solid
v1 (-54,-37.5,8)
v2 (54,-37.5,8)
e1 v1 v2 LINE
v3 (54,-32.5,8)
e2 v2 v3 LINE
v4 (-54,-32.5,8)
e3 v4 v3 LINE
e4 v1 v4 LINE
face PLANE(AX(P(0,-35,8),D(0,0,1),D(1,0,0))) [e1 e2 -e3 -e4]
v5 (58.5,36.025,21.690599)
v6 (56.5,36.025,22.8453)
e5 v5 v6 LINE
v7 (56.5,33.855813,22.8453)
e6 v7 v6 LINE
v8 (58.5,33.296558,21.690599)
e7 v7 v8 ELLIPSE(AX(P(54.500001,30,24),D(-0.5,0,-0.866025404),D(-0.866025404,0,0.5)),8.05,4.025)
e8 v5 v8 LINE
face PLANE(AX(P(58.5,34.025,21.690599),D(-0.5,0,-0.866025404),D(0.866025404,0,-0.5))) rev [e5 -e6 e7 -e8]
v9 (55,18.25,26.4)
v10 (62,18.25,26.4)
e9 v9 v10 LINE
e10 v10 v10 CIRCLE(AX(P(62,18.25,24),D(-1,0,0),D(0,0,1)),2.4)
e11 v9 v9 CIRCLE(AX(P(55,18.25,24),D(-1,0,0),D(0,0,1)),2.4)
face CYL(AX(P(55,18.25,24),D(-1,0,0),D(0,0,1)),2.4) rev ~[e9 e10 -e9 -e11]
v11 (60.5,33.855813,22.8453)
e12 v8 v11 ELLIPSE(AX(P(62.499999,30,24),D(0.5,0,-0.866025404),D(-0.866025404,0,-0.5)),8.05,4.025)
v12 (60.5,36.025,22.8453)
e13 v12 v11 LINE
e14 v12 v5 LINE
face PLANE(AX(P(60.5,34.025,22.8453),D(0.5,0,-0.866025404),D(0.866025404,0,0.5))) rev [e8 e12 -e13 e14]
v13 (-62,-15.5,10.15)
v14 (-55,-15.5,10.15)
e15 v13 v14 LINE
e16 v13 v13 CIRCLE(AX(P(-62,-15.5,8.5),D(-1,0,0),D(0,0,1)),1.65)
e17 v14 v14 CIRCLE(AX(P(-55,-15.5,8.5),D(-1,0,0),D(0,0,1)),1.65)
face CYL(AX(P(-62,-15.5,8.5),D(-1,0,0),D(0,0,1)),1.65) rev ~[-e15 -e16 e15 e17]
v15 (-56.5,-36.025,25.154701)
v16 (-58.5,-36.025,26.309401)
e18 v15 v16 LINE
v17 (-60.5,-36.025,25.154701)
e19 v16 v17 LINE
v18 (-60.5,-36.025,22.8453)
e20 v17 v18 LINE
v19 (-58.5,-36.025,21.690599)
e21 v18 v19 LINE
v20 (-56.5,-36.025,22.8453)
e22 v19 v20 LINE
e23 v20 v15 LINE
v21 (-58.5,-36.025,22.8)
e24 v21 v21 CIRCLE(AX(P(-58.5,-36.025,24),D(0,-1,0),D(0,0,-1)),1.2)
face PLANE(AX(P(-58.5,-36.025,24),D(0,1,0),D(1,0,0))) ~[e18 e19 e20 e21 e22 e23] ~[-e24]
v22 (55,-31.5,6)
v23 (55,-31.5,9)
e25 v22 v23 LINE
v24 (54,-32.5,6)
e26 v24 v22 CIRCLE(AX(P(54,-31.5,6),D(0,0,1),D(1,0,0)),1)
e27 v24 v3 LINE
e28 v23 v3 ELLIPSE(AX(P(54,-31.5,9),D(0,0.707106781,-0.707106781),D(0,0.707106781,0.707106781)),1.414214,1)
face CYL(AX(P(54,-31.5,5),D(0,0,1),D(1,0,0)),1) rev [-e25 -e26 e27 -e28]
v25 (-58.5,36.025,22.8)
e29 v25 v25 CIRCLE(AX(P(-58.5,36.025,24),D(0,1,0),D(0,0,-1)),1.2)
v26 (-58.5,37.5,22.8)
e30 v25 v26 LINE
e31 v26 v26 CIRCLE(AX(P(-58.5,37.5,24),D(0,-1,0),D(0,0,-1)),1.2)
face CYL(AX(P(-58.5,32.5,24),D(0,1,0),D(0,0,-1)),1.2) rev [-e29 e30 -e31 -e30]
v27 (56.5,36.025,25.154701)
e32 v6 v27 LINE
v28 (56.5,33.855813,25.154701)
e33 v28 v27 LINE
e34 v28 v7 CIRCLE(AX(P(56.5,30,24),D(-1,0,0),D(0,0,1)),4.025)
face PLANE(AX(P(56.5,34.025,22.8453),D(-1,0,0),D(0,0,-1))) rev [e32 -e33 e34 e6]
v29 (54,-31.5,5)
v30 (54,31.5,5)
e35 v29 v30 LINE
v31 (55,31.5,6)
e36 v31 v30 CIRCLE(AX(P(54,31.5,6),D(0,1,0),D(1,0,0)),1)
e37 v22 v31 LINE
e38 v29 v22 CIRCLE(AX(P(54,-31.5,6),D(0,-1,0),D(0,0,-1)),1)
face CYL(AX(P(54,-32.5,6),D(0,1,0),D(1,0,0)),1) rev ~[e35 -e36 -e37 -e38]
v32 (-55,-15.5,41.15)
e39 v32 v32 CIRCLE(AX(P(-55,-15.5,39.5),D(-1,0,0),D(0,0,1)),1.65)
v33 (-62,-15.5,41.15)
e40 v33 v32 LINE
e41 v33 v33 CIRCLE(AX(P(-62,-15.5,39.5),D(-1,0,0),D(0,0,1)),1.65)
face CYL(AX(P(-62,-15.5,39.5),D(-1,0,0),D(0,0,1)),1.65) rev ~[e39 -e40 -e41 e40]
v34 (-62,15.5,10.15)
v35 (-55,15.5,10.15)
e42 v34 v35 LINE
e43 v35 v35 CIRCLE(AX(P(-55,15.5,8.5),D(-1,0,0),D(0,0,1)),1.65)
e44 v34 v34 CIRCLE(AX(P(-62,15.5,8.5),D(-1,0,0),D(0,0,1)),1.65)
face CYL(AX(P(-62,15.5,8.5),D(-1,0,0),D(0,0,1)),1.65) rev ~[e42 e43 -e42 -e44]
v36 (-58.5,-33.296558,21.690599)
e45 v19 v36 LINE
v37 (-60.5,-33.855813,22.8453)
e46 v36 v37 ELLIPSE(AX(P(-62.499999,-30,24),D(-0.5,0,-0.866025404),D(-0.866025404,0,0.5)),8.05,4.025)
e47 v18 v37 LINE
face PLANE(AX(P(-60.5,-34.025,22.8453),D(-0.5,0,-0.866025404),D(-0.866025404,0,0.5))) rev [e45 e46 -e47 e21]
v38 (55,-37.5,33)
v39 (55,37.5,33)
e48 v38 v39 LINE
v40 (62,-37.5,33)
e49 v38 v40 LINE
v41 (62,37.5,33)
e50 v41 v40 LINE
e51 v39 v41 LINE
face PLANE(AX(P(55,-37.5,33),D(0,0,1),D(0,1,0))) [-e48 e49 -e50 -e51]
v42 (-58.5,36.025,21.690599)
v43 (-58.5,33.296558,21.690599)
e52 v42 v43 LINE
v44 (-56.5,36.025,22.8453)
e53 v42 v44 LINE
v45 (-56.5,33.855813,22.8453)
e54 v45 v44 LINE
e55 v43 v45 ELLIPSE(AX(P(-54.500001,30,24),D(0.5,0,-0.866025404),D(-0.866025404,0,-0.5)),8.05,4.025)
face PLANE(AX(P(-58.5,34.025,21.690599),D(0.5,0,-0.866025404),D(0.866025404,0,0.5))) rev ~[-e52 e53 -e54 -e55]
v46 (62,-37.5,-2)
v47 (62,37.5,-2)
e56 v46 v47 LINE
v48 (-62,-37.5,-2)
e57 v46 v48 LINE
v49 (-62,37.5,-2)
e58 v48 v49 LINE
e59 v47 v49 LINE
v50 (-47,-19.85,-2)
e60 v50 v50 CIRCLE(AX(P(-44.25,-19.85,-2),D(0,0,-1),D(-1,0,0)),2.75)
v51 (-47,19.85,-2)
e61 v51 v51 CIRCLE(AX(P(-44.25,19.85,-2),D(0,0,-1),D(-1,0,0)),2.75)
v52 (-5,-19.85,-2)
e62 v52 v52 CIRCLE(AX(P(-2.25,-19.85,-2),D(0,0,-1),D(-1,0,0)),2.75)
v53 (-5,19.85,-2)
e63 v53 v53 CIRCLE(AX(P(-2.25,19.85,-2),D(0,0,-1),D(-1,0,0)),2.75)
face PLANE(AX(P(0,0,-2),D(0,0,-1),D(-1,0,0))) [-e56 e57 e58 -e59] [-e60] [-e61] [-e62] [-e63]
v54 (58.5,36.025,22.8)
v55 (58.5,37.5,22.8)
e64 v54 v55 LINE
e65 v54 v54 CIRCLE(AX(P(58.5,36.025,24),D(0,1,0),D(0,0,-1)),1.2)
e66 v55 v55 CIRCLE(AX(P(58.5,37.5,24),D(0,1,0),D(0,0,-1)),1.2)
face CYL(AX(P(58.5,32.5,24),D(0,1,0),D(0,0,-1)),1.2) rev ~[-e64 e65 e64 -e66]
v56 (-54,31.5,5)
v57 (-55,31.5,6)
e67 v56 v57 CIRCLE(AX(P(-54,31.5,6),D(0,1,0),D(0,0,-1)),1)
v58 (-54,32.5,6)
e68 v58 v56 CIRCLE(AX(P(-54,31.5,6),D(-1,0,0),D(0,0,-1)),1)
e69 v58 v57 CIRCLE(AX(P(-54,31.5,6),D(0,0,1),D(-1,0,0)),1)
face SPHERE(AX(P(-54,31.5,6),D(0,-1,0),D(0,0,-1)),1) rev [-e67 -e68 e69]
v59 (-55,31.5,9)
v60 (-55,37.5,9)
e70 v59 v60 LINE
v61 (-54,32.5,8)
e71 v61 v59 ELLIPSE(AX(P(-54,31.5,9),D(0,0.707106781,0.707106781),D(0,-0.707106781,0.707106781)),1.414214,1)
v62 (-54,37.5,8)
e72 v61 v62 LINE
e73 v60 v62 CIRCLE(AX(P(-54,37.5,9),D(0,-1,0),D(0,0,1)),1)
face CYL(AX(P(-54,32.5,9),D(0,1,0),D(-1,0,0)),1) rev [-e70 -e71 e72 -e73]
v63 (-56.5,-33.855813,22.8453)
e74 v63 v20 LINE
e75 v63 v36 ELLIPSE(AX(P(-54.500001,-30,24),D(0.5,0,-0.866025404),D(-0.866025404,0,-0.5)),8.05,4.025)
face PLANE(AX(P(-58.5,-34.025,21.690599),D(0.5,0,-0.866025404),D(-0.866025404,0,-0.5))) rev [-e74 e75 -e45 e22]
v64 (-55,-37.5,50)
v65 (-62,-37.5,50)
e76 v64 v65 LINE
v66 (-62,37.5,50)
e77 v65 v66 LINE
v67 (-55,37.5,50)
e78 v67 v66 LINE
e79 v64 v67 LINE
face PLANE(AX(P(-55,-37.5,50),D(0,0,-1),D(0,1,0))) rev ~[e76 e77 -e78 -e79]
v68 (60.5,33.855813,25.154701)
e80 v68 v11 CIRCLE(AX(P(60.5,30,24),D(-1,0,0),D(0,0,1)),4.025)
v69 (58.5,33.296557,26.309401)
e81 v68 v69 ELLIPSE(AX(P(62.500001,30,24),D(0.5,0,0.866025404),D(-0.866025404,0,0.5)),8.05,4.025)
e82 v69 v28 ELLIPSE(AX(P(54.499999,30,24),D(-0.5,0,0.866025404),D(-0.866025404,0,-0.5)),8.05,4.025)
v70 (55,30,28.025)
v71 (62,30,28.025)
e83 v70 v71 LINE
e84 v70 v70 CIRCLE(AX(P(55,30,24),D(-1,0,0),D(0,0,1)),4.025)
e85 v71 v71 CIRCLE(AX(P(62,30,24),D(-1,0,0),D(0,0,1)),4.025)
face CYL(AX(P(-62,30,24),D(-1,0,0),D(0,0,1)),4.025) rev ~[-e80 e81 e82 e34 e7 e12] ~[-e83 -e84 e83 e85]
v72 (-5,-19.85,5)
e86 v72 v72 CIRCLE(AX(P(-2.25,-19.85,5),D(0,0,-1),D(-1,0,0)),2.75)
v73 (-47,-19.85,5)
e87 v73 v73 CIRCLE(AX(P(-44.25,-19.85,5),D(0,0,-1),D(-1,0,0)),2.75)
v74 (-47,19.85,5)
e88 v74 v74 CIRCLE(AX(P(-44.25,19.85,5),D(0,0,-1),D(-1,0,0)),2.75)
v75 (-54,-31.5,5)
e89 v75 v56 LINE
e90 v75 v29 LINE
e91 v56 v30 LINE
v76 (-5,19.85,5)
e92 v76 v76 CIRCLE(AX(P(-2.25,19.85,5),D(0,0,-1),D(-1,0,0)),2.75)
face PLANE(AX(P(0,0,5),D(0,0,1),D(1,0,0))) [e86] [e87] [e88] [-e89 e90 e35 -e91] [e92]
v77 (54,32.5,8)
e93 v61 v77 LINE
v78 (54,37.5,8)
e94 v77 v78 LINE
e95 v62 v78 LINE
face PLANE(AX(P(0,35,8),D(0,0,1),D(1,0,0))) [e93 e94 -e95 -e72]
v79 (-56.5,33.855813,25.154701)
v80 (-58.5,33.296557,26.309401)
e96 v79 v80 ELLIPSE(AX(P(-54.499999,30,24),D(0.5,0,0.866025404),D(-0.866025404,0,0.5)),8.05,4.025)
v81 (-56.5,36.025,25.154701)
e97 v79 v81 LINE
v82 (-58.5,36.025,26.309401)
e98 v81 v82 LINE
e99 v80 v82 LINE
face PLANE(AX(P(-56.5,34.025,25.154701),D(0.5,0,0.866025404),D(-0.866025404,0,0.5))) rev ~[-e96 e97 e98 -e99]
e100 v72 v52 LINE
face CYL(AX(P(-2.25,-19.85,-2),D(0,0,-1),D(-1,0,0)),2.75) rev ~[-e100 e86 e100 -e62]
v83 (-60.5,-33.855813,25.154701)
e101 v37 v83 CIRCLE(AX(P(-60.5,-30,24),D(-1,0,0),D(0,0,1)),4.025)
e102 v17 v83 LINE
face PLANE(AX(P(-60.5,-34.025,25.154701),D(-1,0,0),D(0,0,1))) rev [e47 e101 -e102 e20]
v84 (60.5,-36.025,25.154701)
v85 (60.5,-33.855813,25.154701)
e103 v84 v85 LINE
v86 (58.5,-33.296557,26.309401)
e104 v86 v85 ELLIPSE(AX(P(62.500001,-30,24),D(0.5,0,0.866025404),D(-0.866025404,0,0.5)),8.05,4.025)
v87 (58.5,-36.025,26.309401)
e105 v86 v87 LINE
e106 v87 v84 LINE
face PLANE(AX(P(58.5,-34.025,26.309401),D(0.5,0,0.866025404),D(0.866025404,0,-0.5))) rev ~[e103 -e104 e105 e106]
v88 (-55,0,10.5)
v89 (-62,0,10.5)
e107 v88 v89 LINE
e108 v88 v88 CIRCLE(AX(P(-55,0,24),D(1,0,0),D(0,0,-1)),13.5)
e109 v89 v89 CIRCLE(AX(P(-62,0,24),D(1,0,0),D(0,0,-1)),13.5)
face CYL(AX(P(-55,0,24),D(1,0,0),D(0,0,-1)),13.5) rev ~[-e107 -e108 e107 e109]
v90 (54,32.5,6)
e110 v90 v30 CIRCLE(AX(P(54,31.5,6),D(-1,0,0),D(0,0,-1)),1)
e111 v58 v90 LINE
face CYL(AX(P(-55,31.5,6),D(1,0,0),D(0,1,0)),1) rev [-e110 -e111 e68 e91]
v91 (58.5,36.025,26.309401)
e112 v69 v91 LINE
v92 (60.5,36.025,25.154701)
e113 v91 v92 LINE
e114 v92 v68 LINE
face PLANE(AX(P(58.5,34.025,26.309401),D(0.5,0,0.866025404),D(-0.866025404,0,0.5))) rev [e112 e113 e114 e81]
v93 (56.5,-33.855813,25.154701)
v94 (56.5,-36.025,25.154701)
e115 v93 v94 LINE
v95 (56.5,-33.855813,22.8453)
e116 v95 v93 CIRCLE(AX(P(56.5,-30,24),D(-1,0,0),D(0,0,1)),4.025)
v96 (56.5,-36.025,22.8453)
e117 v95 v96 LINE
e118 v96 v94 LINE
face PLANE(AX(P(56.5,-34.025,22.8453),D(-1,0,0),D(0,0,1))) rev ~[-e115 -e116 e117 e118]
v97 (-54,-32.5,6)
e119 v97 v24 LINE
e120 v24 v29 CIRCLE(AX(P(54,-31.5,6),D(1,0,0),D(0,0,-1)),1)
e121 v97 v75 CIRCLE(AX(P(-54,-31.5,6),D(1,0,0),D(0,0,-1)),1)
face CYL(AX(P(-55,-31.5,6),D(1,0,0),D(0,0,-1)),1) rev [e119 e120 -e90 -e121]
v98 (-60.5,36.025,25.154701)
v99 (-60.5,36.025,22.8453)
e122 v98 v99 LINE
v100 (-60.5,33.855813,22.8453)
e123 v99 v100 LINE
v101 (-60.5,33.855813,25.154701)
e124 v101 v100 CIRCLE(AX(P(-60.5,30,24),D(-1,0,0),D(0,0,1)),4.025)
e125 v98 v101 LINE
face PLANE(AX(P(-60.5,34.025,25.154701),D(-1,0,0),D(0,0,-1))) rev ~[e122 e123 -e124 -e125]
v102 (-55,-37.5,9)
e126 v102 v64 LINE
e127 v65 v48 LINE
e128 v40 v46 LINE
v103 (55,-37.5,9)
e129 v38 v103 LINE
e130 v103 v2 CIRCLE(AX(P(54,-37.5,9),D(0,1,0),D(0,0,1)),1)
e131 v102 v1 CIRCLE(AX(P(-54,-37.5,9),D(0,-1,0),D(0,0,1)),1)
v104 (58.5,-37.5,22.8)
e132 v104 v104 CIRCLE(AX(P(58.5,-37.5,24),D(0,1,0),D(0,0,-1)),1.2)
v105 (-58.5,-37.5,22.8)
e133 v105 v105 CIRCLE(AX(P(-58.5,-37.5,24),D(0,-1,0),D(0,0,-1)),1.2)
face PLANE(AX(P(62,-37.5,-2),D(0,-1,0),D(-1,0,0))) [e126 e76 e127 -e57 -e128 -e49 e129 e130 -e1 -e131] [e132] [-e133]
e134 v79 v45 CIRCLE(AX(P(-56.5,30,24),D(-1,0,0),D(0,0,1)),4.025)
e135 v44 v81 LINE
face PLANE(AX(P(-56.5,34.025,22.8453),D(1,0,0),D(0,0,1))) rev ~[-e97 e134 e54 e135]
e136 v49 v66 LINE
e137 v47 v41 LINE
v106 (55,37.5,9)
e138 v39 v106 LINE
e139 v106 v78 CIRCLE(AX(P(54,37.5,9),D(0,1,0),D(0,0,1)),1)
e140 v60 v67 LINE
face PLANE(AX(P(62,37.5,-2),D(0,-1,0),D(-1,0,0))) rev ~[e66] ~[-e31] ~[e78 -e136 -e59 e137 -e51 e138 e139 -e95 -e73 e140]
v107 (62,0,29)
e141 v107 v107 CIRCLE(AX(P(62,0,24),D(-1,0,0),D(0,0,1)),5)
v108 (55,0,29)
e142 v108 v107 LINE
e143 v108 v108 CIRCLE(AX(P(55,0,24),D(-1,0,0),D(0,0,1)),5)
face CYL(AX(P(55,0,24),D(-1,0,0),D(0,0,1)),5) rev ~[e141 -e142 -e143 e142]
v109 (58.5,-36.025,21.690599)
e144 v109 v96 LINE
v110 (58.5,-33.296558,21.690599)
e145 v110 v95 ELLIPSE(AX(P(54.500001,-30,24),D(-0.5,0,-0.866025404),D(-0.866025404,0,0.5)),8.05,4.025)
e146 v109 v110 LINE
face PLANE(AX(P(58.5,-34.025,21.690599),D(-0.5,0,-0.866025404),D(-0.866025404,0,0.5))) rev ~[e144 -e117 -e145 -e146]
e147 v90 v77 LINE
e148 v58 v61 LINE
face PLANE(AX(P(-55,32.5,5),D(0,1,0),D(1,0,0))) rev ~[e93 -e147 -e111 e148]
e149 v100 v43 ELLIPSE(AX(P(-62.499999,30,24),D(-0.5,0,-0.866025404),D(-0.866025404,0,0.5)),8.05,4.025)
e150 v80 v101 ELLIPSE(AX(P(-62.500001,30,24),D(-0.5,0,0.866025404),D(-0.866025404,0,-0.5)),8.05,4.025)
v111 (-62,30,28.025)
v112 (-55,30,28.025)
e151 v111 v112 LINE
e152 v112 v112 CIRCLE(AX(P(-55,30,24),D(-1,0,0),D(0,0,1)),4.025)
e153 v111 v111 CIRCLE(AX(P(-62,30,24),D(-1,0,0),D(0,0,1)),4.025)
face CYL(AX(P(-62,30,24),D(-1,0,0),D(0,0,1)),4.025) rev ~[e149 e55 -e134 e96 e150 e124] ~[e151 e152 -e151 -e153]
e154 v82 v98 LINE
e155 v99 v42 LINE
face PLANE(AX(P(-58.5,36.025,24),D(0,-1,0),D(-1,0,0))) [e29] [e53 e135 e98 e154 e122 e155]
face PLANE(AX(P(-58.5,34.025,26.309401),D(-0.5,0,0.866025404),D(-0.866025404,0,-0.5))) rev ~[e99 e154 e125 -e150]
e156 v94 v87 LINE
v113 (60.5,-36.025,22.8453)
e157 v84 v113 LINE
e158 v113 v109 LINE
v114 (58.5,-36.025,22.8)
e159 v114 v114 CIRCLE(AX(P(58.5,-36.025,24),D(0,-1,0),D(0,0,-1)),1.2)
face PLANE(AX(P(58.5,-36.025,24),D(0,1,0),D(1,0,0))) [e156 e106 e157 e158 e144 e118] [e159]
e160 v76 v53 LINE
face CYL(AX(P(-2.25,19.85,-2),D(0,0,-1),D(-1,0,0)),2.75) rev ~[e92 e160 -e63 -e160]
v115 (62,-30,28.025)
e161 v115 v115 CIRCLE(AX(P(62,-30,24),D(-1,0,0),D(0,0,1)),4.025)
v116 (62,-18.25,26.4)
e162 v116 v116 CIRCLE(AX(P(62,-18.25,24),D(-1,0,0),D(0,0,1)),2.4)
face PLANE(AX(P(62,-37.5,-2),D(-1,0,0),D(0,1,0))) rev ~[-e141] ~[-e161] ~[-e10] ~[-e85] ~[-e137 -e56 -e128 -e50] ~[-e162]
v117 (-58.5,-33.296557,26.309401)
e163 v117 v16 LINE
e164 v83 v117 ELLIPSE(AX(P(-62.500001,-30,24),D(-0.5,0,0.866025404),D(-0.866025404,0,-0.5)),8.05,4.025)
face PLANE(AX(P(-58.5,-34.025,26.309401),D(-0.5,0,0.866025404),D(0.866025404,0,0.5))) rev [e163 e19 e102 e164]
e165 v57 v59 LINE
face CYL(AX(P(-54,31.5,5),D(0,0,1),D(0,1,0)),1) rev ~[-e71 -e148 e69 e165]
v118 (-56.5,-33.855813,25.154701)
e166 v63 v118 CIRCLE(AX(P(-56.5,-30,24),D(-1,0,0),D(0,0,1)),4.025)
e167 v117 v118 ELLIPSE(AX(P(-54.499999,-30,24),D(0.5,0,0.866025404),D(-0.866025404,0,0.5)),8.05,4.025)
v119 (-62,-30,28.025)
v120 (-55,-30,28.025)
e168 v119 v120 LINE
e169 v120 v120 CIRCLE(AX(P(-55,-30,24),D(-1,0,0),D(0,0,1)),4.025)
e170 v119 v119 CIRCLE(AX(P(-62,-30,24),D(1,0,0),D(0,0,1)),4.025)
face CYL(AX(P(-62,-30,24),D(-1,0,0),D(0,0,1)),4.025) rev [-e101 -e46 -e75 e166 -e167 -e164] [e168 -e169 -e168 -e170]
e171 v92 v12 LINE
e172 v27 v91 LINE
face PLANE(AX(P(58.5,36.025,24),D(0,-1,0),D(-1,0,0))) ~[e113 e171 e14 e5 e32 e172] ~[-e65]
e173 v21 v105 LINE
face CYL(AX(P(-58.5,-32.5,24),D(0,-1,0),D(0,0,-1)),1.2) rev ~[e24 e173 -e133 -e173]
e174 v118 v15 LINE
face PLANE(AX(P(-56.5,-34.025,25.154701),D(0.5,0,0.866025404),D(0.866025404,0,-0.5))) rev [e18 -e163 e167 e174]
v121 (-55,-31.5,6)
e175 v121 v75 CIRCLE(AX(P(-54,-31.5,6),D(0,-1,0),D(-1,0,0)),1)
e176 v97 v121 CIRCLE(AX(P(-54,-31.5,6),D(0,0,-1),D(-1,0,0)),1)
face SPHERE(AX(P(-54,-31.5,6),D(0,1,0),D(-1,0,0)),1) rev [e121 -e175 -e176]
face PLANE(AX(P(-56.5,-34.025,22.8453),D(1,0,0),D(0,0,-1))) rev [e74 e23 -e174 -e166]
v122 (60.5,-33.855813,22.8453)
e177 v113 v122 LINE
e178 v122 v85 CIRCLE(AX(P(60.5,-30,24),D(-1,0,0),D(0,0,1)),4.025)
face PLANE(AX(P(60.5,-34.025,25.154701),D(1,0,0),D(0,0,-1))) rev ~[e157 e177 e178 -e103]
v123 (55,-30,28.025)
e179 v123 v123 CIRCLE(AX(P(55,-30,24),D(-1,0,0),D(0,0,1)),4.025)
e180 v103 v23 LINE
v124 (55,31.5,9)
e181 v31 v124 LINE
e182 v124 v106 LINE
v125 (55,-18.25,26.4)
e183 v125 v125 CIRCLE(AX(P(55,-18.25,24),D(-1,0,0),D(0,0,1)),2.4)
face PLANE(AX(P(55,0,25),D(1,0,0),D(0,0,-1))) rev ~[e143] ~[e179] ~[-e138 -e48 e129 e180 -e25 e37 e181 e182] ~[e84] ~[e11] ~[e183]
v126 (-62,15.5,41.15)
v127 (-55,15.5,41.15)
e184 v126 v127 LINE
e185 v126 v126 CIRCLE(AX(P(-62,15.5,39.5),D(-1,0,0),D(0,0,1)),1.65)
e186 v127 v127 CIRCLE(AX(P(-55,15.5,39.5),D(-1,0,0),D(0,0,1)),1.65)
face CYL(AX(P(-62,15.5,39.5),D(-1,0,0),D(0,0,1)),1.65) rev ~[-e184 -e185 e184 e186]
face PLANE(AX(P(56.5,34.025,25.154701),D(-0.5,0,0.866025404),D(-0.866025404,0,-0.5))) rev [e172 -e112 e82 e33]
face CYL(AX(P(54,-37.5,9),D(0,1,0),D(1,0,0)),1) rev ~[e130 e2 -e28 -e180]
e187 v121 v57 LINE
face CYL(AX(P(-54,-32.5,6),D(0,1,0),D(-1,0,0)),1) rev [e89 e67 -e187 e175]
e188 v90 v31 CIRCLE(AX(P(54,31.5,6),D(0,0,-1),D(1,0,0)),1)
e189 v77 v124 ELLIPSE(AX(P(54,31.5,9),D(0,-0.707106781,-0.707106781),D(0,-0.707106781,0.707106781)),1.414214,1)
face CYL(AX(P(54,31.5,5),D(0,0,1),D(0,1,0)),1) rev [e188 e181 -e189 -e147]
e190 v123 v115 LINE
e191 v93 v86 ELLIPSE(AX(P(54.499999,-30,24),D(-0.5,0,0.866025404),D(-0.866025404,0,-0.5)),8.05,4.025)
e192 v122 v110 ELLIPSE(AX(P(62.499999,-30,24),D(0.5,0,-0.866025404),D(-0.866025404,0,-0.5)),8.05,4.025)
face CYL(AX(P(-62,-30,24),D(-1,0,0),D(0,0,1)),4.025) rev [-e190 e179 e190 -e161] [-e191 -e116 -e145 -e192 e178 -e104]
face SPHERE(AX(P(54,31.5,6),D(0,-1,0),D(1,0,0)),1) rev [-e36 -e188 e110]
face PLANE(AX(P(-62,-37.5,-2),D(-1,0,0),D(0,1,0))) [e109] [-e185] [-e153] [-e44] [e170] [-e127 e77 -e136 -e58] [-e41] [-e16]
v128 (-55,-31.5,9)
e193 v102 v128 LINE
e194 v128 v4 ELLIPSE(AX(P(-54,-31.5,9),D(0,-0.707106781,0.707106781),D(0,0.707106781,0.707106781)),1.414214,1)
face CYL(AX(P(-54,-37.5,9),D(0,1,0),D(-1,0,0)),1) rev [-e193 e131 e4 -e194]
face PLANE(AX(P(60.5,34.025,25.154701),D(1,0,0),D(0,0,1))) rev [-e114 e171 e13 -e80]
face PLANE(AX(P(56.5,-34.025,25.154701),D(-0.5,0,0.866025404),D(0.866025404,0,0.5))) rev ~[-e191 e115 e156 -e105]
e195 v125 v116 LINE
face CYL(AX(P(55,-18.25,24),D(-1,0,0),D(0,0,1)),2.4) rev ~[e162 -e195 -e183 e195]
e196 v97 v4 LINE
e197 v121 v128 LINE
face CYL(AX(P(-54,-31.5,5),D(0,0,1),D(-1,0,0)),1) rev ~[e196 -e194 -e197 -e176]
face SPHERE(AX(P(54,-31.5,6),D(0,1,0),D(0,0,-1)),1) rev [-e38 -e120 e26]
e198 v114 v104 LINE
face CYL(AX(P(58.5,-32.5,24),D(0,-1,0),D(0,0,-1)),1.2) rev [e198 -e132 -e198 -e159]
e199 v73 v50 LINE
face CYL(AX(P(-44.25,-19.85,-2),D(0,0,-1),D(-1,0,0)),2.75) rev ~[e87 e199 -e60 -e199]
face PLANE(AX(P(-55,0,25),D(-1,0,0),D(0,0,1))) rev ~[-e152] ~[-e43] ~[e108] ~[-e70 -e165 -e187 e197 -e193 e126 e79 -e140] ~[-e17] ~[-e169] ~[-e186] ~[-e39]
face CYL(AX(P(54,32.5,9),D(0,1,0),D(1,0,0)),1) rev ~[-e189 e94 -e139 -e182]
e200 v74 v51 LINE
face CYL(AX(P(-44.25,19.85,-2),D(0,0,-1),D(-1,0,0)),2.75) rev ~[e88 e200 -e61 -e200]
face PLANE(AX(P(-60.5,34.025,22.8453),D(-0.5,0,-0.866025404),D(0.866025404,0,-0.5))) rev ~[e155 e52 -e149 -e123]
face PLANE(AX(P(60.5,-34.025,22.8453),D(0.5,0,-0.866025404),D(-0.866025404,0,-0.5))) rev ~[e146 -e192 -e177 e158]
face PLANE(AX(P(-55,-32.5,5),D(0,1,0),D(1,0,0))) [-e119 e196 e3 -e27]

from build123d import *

# Parameters (mm, degrees)
SKETCH1_W            = 110
SKETCH1_H            = 75
BOSS_EXTRUDE1_DEPTH  = 5
SKETCH2_W            = 50.000000309
SKETCH2_H            = 75
BOSS_EXTRUDE2_DEPTH  = 7
SKETCH3_W            = 50.000000309
SKETCH3_H            = 75
BOSS_EXTRUDE3_DEPTH  = 7
SKETCH4_R            = 13.5
CUT_EXTRUDE1_DEPTH   = 133.647088287
SKETCH5_R            = 1.65
CUT_EXTRUDE2_DEPTH   = 7
SKETCH8_R            = 4.025
CUT_EXTRUDE5_DEPTH   = 139.860541663
SKETCH9_W            = 17
SKETCH9_H            = 75
CUT_EXTRUDE6_DEPTH   = 133.647088287
SKETCH13_R           = 2.75
CUT_EXTRUDE7_DEPTH   = 10
SKETCH14_R           = 5
CUT_EXTRUDE8_DEPTH   = 10
BOSS_EXTRUDE4_START  = 2
SKETCH15_W           = 124
SKETCH15_H           = 75
SKETCH15_R           = 2.75
BOSS_EXTRUDE4_DEPTH  = 2
CUT_EXTRUDE11_DEPTH  = 2
MIRROR7_COPY_1_DEPTH = 2
SKETCH20_R           = 2.4
CUT_EXTRUDE12_DEPTH  = 133.647088287
SKETCH21_W           = 110
SKETCH21_H           = 5
BOSS_EXTRUDE5_DEPTH  = 3
FILLET2_R            = 1


with BuildPart() as part:
    # Sketch1 → Boss-Extrude1 (new body)
    with BuildSketch(Plane.XY):
        Rectangle(SKETCH1_W, SKETCH1_H)
    extrude(amount=BOSS_EXTRUDE1_DEPTH)

    # Sketch2 → Boss-Extrude2 (add)
    with BuildSketch(Plane.ZY.offset(55)):
        with Locations((25.000000155, 0)):
            Rectangle(SKETCH2_W, SKETCH2_H)
    extrude(amount=BOSS_EXTRUDE2_DEPTH)

    # Sketch3 → Boss-Extrude3 (add)
    with BuildSketch(Plane(origin=(55, 0, 0), x_dir=(0, 0, -1), z_dir=(1, 0, 0))):
        with Locations((-25.000000155, 0)):
            Rectangle(SKETCH3_W, SKETCH3_H)
    extrude(amount=BOSS_EXTRUDE3_DEPTH)

    # Sketch4 → Cut-Extrude1 (cut, through all)
    with BuildSketch(Plane(origin=(-55, 0, 0), x_dir=(0, 0, -1), z_dir=(1, 0, 0))):
        with Locations((-24, 0)):
            Circle(SKETCH4_R)
    extrude(amount=-CUT_EXTRUDE1_DEPTH, mode=Mode.SUBTRACT)

    # Sketch5 → Cut-Extrude2 (cut)
    with BuildSketch(Plane.ZY.offset(62)):
        with Locations((39.5, 15.5)):
            Circle(SKETCH5_R)
        with Locations((39.5, -15.5)):
            Circle(SKETCH5_R)
        with Locations((8.5, -15.5)):
            Circle(SKETCH5_R)
        with Locations((8.5, 15.5)):
            Circle(SKETCH5_R)
    extrude(amount=-CUT_EXTRUDE2_DEPTH, mode=Mode.SUBTRACT)

    # Sketch8 → Cut-Extrude5 (cut, through all)
    with BuildSketch(Plane.ZY.offset(62)):
        with Locations((24, 30)):
            Circle(SKETCH8_R)
    cut_extrude5 = extrude(amount=-CUT_EXTRUDE5_DEPTH, mode=Mode.SUBTRACT)

    # Mirror1: Cut-Extrude5 across plane
    add(cut_extrude5.mirror(Plane.ZX), mode=Mode.SUBTRACT)

    # Sketch9 → Cut-Extrude6 (cut, through all)
    with BuildSketch(Plane.ZY.offset(-55)):
        with Locations((41.500000309, 0)):
            Rectangle(SKETCH9_W, SKETCH9_H)
    extrude(amount=-CUT_EXTRUDE6_DEPTH, mode=Mode.SUBTRACT)

    # Sketch13 → Cut-Extrude7 (cut)
    with BuildSketch(Plane(origin=(0, 0, 0), x_dir=(-1, 0, 0), z_dir=(0, 0, -1))):
        with Locations((44.25, 19.85)):
            Circle(SKETCH13_R)
        with Locations((2.25, 19.85)):
            Circle(SKETCH13_R)
        with Locations((2.25, -19.85)):
            Circle(SKETCH13_R)
        with Locations((44.25, -19.85)):
            Circle(SKETCH13_R)
    extrude(amount=-CUT_EXTRUDE7_DEPTH, mode=Mode.SUBTRACT)

    # Sketch14 → Cut-Extrude8 (cut)
    with BuildSketch(Plane.ZY.offset(-55)):
        with Locations((24, 0)):
            Circle(SKETCH14_R)
    extrude(amount=-CUT_EXTRUDE8_DEPTH, mode=Mode.SUBTRACT)

    # Sketch15 → Boss-Extrude4 (add)
    with BuildSketch(Plane(origin=(0, 0, 0), x_dir=(-1, 0, 0), z_dir=(0, 0, -1)).offset(BOSS_EXTRUDE4_START)):
        Rectangle(SKETCH15_W, SKETCH15_H)
        with Locations((44.25, 19.85)):
            Circle(SKETCH15_R, mode=Mode.SUBTRACT)
        with Locations((2.25, 19.85)):
            Circle(SKETCH15_R, mode=Mode.SUBTRACT)
        with Locations((2.25, -19.85)):
            Circle(SKETCH15_R, mode=Mode.SUBTRACT)
        with Locations((44.25, -19.85)):
            Circle(SKETCH15_R, mode=Mode.SUBTRACT)
    extrude(amount=-BOSS_EXTRUDE4_DEPTH)

    # Sketch16 → Cut-Extrude11 (cut, symmetric)
    with BuildSketch(Plane(origin=(0, -34.025, 0), x_dir=(1, 0, 0), z_dir=(0, 1, 0))):
        Polygon((58.5, -26.309401386), (60.5, -25.154700847), (60.5, -22.845299771), (58.5, -21.690599232), (56.5, -22.845299771), (56.5, -25.154700847), align=None)
    cut_extrude11 = extrude(amount=CUT_EXTRUDE11_DEPTH, both=True, mode=Mode.SUBTRACT)

    # Sketch18 → Dégagement M21 (revolve, cut)
    with BuildSketch(Plane(origin=(58.5, -37.5, 24.000000309), x_dir=(0, 0, -1), z_dir=(1, 0, 0))):
        Polygon((0, 0), (0, 5.721032743), (1.2, 5), (1.2, 0), align=None)
    d_gagement_m21 = revolve(axis=Axis((58.5, -43.85, 24.000000309), (0, 1, 0)), mode=Mode.SUBTRACT)

    # Mirror5: Cut-Extrude11, Dégagement M21 across plane
    add(cut_extrude11.mirror(Plane(origin=(0, 0, 0), x_dir=(0, 0, 1), z_dir=(1, 0, 0))), mode=Mode.SUBTRACT)
    add(d_gagement_m21.mirror(Plane(origin=(0, 0, 0), x_dir=(0, 0, 1), z_dir=(1, 0, 0))), mode=Mode.SUBTRACT)

    # Mirror7: Cut-Extrude11, Dégagement M21 across plane
    add(cut_extrude11.mirror(Plane.ZX), mode=Mode.SUBTRACT)
    add(d_gagement_m21.mirror(Plane.ZX), mode=Mode.SUBTRACT)

    # Mirror7 copy 1 sketch → Mirror7 copy 1 (cut, symmetric)
    with BuildSketch(Plane(origin=(0, 34.025, 0), x_dir=(-1, 0, 0), z_dir=(0, -1, 0))):
        Polygon((58.5, -26.309401386), (60.5, -25.154700847), (60.5, -22.845299771), (58.5, -21.690599232), (56.5, -22.845299771), (56.5, -25.154700847), align=None)
    extrude(amount=MIRROR7_COPY_1_DEPTH, both=True, mode=Mode.SUBTRACT)

    # Mirror7 copy 2 sketch → Mirror7 copy 2 (revolve, cut)
    with BuildSketch(Plane(origin=(-58.5, 37.5, 24.000000309), x_dir=(0, 0, -1), z_dir=(-1, 0, 0))):
        Polygon((0, 0), (0, 5.721032743), (1.2, 5), (1.2, 0), align=None)
    revolve(axis=Axis((-58.5, 43.85, 24.000000309), (0, -1, 0)), mode=Mode.SUBTRACT)

    # Sketch20 → Cut-Extrude12 (cut, through all)
    with BuildSketch(Plane.ZY.offset(-55)):
        with Locations((24, 18.25)):
            Circle(SKETCH20_R)
        with Locations((24, -18.25)):
            Circle(SKETCH20_R)
    extrude(amount=-CUT_EXTRUDE12_DEPTH, mode=Mode.SUBTRACT)

    # Sketch21 → Boss-Extrude5 (add)
    with BuildSketch(Plane.XY.offset(5)):
        with Locations((0, 35)):
            Rectangle(SKETCH21_W, SKETCH21_H)
        with Locations((0, -35)):
            Rectangle(SKETCH21_W, SKETCH21_H)
    extrude(amount=BOSS_EXTRUDE5_DEPTH)

    # Fillet2
    fillet2_edges = [part.edges().sort_by_distance(p)[0] for p in [
        (55, 0, 5),
        (-55, 0, 5),
        (55, 32.5, 6.5),
        (0, 32.5, 5),
        (-55, 32.5, 6.5),
        (55, 35, 8),
        (-55, 35, 8),
        (-55, -32.5, 6.5),
        (0, -32.5, 5),
        (55, -32.5, 6.5),
        (-55, -35, 8),
        (55, -35, 8),
    ]]
    fillet(fillet2_edges, radius=FILLET2_R)


solid = part.part
